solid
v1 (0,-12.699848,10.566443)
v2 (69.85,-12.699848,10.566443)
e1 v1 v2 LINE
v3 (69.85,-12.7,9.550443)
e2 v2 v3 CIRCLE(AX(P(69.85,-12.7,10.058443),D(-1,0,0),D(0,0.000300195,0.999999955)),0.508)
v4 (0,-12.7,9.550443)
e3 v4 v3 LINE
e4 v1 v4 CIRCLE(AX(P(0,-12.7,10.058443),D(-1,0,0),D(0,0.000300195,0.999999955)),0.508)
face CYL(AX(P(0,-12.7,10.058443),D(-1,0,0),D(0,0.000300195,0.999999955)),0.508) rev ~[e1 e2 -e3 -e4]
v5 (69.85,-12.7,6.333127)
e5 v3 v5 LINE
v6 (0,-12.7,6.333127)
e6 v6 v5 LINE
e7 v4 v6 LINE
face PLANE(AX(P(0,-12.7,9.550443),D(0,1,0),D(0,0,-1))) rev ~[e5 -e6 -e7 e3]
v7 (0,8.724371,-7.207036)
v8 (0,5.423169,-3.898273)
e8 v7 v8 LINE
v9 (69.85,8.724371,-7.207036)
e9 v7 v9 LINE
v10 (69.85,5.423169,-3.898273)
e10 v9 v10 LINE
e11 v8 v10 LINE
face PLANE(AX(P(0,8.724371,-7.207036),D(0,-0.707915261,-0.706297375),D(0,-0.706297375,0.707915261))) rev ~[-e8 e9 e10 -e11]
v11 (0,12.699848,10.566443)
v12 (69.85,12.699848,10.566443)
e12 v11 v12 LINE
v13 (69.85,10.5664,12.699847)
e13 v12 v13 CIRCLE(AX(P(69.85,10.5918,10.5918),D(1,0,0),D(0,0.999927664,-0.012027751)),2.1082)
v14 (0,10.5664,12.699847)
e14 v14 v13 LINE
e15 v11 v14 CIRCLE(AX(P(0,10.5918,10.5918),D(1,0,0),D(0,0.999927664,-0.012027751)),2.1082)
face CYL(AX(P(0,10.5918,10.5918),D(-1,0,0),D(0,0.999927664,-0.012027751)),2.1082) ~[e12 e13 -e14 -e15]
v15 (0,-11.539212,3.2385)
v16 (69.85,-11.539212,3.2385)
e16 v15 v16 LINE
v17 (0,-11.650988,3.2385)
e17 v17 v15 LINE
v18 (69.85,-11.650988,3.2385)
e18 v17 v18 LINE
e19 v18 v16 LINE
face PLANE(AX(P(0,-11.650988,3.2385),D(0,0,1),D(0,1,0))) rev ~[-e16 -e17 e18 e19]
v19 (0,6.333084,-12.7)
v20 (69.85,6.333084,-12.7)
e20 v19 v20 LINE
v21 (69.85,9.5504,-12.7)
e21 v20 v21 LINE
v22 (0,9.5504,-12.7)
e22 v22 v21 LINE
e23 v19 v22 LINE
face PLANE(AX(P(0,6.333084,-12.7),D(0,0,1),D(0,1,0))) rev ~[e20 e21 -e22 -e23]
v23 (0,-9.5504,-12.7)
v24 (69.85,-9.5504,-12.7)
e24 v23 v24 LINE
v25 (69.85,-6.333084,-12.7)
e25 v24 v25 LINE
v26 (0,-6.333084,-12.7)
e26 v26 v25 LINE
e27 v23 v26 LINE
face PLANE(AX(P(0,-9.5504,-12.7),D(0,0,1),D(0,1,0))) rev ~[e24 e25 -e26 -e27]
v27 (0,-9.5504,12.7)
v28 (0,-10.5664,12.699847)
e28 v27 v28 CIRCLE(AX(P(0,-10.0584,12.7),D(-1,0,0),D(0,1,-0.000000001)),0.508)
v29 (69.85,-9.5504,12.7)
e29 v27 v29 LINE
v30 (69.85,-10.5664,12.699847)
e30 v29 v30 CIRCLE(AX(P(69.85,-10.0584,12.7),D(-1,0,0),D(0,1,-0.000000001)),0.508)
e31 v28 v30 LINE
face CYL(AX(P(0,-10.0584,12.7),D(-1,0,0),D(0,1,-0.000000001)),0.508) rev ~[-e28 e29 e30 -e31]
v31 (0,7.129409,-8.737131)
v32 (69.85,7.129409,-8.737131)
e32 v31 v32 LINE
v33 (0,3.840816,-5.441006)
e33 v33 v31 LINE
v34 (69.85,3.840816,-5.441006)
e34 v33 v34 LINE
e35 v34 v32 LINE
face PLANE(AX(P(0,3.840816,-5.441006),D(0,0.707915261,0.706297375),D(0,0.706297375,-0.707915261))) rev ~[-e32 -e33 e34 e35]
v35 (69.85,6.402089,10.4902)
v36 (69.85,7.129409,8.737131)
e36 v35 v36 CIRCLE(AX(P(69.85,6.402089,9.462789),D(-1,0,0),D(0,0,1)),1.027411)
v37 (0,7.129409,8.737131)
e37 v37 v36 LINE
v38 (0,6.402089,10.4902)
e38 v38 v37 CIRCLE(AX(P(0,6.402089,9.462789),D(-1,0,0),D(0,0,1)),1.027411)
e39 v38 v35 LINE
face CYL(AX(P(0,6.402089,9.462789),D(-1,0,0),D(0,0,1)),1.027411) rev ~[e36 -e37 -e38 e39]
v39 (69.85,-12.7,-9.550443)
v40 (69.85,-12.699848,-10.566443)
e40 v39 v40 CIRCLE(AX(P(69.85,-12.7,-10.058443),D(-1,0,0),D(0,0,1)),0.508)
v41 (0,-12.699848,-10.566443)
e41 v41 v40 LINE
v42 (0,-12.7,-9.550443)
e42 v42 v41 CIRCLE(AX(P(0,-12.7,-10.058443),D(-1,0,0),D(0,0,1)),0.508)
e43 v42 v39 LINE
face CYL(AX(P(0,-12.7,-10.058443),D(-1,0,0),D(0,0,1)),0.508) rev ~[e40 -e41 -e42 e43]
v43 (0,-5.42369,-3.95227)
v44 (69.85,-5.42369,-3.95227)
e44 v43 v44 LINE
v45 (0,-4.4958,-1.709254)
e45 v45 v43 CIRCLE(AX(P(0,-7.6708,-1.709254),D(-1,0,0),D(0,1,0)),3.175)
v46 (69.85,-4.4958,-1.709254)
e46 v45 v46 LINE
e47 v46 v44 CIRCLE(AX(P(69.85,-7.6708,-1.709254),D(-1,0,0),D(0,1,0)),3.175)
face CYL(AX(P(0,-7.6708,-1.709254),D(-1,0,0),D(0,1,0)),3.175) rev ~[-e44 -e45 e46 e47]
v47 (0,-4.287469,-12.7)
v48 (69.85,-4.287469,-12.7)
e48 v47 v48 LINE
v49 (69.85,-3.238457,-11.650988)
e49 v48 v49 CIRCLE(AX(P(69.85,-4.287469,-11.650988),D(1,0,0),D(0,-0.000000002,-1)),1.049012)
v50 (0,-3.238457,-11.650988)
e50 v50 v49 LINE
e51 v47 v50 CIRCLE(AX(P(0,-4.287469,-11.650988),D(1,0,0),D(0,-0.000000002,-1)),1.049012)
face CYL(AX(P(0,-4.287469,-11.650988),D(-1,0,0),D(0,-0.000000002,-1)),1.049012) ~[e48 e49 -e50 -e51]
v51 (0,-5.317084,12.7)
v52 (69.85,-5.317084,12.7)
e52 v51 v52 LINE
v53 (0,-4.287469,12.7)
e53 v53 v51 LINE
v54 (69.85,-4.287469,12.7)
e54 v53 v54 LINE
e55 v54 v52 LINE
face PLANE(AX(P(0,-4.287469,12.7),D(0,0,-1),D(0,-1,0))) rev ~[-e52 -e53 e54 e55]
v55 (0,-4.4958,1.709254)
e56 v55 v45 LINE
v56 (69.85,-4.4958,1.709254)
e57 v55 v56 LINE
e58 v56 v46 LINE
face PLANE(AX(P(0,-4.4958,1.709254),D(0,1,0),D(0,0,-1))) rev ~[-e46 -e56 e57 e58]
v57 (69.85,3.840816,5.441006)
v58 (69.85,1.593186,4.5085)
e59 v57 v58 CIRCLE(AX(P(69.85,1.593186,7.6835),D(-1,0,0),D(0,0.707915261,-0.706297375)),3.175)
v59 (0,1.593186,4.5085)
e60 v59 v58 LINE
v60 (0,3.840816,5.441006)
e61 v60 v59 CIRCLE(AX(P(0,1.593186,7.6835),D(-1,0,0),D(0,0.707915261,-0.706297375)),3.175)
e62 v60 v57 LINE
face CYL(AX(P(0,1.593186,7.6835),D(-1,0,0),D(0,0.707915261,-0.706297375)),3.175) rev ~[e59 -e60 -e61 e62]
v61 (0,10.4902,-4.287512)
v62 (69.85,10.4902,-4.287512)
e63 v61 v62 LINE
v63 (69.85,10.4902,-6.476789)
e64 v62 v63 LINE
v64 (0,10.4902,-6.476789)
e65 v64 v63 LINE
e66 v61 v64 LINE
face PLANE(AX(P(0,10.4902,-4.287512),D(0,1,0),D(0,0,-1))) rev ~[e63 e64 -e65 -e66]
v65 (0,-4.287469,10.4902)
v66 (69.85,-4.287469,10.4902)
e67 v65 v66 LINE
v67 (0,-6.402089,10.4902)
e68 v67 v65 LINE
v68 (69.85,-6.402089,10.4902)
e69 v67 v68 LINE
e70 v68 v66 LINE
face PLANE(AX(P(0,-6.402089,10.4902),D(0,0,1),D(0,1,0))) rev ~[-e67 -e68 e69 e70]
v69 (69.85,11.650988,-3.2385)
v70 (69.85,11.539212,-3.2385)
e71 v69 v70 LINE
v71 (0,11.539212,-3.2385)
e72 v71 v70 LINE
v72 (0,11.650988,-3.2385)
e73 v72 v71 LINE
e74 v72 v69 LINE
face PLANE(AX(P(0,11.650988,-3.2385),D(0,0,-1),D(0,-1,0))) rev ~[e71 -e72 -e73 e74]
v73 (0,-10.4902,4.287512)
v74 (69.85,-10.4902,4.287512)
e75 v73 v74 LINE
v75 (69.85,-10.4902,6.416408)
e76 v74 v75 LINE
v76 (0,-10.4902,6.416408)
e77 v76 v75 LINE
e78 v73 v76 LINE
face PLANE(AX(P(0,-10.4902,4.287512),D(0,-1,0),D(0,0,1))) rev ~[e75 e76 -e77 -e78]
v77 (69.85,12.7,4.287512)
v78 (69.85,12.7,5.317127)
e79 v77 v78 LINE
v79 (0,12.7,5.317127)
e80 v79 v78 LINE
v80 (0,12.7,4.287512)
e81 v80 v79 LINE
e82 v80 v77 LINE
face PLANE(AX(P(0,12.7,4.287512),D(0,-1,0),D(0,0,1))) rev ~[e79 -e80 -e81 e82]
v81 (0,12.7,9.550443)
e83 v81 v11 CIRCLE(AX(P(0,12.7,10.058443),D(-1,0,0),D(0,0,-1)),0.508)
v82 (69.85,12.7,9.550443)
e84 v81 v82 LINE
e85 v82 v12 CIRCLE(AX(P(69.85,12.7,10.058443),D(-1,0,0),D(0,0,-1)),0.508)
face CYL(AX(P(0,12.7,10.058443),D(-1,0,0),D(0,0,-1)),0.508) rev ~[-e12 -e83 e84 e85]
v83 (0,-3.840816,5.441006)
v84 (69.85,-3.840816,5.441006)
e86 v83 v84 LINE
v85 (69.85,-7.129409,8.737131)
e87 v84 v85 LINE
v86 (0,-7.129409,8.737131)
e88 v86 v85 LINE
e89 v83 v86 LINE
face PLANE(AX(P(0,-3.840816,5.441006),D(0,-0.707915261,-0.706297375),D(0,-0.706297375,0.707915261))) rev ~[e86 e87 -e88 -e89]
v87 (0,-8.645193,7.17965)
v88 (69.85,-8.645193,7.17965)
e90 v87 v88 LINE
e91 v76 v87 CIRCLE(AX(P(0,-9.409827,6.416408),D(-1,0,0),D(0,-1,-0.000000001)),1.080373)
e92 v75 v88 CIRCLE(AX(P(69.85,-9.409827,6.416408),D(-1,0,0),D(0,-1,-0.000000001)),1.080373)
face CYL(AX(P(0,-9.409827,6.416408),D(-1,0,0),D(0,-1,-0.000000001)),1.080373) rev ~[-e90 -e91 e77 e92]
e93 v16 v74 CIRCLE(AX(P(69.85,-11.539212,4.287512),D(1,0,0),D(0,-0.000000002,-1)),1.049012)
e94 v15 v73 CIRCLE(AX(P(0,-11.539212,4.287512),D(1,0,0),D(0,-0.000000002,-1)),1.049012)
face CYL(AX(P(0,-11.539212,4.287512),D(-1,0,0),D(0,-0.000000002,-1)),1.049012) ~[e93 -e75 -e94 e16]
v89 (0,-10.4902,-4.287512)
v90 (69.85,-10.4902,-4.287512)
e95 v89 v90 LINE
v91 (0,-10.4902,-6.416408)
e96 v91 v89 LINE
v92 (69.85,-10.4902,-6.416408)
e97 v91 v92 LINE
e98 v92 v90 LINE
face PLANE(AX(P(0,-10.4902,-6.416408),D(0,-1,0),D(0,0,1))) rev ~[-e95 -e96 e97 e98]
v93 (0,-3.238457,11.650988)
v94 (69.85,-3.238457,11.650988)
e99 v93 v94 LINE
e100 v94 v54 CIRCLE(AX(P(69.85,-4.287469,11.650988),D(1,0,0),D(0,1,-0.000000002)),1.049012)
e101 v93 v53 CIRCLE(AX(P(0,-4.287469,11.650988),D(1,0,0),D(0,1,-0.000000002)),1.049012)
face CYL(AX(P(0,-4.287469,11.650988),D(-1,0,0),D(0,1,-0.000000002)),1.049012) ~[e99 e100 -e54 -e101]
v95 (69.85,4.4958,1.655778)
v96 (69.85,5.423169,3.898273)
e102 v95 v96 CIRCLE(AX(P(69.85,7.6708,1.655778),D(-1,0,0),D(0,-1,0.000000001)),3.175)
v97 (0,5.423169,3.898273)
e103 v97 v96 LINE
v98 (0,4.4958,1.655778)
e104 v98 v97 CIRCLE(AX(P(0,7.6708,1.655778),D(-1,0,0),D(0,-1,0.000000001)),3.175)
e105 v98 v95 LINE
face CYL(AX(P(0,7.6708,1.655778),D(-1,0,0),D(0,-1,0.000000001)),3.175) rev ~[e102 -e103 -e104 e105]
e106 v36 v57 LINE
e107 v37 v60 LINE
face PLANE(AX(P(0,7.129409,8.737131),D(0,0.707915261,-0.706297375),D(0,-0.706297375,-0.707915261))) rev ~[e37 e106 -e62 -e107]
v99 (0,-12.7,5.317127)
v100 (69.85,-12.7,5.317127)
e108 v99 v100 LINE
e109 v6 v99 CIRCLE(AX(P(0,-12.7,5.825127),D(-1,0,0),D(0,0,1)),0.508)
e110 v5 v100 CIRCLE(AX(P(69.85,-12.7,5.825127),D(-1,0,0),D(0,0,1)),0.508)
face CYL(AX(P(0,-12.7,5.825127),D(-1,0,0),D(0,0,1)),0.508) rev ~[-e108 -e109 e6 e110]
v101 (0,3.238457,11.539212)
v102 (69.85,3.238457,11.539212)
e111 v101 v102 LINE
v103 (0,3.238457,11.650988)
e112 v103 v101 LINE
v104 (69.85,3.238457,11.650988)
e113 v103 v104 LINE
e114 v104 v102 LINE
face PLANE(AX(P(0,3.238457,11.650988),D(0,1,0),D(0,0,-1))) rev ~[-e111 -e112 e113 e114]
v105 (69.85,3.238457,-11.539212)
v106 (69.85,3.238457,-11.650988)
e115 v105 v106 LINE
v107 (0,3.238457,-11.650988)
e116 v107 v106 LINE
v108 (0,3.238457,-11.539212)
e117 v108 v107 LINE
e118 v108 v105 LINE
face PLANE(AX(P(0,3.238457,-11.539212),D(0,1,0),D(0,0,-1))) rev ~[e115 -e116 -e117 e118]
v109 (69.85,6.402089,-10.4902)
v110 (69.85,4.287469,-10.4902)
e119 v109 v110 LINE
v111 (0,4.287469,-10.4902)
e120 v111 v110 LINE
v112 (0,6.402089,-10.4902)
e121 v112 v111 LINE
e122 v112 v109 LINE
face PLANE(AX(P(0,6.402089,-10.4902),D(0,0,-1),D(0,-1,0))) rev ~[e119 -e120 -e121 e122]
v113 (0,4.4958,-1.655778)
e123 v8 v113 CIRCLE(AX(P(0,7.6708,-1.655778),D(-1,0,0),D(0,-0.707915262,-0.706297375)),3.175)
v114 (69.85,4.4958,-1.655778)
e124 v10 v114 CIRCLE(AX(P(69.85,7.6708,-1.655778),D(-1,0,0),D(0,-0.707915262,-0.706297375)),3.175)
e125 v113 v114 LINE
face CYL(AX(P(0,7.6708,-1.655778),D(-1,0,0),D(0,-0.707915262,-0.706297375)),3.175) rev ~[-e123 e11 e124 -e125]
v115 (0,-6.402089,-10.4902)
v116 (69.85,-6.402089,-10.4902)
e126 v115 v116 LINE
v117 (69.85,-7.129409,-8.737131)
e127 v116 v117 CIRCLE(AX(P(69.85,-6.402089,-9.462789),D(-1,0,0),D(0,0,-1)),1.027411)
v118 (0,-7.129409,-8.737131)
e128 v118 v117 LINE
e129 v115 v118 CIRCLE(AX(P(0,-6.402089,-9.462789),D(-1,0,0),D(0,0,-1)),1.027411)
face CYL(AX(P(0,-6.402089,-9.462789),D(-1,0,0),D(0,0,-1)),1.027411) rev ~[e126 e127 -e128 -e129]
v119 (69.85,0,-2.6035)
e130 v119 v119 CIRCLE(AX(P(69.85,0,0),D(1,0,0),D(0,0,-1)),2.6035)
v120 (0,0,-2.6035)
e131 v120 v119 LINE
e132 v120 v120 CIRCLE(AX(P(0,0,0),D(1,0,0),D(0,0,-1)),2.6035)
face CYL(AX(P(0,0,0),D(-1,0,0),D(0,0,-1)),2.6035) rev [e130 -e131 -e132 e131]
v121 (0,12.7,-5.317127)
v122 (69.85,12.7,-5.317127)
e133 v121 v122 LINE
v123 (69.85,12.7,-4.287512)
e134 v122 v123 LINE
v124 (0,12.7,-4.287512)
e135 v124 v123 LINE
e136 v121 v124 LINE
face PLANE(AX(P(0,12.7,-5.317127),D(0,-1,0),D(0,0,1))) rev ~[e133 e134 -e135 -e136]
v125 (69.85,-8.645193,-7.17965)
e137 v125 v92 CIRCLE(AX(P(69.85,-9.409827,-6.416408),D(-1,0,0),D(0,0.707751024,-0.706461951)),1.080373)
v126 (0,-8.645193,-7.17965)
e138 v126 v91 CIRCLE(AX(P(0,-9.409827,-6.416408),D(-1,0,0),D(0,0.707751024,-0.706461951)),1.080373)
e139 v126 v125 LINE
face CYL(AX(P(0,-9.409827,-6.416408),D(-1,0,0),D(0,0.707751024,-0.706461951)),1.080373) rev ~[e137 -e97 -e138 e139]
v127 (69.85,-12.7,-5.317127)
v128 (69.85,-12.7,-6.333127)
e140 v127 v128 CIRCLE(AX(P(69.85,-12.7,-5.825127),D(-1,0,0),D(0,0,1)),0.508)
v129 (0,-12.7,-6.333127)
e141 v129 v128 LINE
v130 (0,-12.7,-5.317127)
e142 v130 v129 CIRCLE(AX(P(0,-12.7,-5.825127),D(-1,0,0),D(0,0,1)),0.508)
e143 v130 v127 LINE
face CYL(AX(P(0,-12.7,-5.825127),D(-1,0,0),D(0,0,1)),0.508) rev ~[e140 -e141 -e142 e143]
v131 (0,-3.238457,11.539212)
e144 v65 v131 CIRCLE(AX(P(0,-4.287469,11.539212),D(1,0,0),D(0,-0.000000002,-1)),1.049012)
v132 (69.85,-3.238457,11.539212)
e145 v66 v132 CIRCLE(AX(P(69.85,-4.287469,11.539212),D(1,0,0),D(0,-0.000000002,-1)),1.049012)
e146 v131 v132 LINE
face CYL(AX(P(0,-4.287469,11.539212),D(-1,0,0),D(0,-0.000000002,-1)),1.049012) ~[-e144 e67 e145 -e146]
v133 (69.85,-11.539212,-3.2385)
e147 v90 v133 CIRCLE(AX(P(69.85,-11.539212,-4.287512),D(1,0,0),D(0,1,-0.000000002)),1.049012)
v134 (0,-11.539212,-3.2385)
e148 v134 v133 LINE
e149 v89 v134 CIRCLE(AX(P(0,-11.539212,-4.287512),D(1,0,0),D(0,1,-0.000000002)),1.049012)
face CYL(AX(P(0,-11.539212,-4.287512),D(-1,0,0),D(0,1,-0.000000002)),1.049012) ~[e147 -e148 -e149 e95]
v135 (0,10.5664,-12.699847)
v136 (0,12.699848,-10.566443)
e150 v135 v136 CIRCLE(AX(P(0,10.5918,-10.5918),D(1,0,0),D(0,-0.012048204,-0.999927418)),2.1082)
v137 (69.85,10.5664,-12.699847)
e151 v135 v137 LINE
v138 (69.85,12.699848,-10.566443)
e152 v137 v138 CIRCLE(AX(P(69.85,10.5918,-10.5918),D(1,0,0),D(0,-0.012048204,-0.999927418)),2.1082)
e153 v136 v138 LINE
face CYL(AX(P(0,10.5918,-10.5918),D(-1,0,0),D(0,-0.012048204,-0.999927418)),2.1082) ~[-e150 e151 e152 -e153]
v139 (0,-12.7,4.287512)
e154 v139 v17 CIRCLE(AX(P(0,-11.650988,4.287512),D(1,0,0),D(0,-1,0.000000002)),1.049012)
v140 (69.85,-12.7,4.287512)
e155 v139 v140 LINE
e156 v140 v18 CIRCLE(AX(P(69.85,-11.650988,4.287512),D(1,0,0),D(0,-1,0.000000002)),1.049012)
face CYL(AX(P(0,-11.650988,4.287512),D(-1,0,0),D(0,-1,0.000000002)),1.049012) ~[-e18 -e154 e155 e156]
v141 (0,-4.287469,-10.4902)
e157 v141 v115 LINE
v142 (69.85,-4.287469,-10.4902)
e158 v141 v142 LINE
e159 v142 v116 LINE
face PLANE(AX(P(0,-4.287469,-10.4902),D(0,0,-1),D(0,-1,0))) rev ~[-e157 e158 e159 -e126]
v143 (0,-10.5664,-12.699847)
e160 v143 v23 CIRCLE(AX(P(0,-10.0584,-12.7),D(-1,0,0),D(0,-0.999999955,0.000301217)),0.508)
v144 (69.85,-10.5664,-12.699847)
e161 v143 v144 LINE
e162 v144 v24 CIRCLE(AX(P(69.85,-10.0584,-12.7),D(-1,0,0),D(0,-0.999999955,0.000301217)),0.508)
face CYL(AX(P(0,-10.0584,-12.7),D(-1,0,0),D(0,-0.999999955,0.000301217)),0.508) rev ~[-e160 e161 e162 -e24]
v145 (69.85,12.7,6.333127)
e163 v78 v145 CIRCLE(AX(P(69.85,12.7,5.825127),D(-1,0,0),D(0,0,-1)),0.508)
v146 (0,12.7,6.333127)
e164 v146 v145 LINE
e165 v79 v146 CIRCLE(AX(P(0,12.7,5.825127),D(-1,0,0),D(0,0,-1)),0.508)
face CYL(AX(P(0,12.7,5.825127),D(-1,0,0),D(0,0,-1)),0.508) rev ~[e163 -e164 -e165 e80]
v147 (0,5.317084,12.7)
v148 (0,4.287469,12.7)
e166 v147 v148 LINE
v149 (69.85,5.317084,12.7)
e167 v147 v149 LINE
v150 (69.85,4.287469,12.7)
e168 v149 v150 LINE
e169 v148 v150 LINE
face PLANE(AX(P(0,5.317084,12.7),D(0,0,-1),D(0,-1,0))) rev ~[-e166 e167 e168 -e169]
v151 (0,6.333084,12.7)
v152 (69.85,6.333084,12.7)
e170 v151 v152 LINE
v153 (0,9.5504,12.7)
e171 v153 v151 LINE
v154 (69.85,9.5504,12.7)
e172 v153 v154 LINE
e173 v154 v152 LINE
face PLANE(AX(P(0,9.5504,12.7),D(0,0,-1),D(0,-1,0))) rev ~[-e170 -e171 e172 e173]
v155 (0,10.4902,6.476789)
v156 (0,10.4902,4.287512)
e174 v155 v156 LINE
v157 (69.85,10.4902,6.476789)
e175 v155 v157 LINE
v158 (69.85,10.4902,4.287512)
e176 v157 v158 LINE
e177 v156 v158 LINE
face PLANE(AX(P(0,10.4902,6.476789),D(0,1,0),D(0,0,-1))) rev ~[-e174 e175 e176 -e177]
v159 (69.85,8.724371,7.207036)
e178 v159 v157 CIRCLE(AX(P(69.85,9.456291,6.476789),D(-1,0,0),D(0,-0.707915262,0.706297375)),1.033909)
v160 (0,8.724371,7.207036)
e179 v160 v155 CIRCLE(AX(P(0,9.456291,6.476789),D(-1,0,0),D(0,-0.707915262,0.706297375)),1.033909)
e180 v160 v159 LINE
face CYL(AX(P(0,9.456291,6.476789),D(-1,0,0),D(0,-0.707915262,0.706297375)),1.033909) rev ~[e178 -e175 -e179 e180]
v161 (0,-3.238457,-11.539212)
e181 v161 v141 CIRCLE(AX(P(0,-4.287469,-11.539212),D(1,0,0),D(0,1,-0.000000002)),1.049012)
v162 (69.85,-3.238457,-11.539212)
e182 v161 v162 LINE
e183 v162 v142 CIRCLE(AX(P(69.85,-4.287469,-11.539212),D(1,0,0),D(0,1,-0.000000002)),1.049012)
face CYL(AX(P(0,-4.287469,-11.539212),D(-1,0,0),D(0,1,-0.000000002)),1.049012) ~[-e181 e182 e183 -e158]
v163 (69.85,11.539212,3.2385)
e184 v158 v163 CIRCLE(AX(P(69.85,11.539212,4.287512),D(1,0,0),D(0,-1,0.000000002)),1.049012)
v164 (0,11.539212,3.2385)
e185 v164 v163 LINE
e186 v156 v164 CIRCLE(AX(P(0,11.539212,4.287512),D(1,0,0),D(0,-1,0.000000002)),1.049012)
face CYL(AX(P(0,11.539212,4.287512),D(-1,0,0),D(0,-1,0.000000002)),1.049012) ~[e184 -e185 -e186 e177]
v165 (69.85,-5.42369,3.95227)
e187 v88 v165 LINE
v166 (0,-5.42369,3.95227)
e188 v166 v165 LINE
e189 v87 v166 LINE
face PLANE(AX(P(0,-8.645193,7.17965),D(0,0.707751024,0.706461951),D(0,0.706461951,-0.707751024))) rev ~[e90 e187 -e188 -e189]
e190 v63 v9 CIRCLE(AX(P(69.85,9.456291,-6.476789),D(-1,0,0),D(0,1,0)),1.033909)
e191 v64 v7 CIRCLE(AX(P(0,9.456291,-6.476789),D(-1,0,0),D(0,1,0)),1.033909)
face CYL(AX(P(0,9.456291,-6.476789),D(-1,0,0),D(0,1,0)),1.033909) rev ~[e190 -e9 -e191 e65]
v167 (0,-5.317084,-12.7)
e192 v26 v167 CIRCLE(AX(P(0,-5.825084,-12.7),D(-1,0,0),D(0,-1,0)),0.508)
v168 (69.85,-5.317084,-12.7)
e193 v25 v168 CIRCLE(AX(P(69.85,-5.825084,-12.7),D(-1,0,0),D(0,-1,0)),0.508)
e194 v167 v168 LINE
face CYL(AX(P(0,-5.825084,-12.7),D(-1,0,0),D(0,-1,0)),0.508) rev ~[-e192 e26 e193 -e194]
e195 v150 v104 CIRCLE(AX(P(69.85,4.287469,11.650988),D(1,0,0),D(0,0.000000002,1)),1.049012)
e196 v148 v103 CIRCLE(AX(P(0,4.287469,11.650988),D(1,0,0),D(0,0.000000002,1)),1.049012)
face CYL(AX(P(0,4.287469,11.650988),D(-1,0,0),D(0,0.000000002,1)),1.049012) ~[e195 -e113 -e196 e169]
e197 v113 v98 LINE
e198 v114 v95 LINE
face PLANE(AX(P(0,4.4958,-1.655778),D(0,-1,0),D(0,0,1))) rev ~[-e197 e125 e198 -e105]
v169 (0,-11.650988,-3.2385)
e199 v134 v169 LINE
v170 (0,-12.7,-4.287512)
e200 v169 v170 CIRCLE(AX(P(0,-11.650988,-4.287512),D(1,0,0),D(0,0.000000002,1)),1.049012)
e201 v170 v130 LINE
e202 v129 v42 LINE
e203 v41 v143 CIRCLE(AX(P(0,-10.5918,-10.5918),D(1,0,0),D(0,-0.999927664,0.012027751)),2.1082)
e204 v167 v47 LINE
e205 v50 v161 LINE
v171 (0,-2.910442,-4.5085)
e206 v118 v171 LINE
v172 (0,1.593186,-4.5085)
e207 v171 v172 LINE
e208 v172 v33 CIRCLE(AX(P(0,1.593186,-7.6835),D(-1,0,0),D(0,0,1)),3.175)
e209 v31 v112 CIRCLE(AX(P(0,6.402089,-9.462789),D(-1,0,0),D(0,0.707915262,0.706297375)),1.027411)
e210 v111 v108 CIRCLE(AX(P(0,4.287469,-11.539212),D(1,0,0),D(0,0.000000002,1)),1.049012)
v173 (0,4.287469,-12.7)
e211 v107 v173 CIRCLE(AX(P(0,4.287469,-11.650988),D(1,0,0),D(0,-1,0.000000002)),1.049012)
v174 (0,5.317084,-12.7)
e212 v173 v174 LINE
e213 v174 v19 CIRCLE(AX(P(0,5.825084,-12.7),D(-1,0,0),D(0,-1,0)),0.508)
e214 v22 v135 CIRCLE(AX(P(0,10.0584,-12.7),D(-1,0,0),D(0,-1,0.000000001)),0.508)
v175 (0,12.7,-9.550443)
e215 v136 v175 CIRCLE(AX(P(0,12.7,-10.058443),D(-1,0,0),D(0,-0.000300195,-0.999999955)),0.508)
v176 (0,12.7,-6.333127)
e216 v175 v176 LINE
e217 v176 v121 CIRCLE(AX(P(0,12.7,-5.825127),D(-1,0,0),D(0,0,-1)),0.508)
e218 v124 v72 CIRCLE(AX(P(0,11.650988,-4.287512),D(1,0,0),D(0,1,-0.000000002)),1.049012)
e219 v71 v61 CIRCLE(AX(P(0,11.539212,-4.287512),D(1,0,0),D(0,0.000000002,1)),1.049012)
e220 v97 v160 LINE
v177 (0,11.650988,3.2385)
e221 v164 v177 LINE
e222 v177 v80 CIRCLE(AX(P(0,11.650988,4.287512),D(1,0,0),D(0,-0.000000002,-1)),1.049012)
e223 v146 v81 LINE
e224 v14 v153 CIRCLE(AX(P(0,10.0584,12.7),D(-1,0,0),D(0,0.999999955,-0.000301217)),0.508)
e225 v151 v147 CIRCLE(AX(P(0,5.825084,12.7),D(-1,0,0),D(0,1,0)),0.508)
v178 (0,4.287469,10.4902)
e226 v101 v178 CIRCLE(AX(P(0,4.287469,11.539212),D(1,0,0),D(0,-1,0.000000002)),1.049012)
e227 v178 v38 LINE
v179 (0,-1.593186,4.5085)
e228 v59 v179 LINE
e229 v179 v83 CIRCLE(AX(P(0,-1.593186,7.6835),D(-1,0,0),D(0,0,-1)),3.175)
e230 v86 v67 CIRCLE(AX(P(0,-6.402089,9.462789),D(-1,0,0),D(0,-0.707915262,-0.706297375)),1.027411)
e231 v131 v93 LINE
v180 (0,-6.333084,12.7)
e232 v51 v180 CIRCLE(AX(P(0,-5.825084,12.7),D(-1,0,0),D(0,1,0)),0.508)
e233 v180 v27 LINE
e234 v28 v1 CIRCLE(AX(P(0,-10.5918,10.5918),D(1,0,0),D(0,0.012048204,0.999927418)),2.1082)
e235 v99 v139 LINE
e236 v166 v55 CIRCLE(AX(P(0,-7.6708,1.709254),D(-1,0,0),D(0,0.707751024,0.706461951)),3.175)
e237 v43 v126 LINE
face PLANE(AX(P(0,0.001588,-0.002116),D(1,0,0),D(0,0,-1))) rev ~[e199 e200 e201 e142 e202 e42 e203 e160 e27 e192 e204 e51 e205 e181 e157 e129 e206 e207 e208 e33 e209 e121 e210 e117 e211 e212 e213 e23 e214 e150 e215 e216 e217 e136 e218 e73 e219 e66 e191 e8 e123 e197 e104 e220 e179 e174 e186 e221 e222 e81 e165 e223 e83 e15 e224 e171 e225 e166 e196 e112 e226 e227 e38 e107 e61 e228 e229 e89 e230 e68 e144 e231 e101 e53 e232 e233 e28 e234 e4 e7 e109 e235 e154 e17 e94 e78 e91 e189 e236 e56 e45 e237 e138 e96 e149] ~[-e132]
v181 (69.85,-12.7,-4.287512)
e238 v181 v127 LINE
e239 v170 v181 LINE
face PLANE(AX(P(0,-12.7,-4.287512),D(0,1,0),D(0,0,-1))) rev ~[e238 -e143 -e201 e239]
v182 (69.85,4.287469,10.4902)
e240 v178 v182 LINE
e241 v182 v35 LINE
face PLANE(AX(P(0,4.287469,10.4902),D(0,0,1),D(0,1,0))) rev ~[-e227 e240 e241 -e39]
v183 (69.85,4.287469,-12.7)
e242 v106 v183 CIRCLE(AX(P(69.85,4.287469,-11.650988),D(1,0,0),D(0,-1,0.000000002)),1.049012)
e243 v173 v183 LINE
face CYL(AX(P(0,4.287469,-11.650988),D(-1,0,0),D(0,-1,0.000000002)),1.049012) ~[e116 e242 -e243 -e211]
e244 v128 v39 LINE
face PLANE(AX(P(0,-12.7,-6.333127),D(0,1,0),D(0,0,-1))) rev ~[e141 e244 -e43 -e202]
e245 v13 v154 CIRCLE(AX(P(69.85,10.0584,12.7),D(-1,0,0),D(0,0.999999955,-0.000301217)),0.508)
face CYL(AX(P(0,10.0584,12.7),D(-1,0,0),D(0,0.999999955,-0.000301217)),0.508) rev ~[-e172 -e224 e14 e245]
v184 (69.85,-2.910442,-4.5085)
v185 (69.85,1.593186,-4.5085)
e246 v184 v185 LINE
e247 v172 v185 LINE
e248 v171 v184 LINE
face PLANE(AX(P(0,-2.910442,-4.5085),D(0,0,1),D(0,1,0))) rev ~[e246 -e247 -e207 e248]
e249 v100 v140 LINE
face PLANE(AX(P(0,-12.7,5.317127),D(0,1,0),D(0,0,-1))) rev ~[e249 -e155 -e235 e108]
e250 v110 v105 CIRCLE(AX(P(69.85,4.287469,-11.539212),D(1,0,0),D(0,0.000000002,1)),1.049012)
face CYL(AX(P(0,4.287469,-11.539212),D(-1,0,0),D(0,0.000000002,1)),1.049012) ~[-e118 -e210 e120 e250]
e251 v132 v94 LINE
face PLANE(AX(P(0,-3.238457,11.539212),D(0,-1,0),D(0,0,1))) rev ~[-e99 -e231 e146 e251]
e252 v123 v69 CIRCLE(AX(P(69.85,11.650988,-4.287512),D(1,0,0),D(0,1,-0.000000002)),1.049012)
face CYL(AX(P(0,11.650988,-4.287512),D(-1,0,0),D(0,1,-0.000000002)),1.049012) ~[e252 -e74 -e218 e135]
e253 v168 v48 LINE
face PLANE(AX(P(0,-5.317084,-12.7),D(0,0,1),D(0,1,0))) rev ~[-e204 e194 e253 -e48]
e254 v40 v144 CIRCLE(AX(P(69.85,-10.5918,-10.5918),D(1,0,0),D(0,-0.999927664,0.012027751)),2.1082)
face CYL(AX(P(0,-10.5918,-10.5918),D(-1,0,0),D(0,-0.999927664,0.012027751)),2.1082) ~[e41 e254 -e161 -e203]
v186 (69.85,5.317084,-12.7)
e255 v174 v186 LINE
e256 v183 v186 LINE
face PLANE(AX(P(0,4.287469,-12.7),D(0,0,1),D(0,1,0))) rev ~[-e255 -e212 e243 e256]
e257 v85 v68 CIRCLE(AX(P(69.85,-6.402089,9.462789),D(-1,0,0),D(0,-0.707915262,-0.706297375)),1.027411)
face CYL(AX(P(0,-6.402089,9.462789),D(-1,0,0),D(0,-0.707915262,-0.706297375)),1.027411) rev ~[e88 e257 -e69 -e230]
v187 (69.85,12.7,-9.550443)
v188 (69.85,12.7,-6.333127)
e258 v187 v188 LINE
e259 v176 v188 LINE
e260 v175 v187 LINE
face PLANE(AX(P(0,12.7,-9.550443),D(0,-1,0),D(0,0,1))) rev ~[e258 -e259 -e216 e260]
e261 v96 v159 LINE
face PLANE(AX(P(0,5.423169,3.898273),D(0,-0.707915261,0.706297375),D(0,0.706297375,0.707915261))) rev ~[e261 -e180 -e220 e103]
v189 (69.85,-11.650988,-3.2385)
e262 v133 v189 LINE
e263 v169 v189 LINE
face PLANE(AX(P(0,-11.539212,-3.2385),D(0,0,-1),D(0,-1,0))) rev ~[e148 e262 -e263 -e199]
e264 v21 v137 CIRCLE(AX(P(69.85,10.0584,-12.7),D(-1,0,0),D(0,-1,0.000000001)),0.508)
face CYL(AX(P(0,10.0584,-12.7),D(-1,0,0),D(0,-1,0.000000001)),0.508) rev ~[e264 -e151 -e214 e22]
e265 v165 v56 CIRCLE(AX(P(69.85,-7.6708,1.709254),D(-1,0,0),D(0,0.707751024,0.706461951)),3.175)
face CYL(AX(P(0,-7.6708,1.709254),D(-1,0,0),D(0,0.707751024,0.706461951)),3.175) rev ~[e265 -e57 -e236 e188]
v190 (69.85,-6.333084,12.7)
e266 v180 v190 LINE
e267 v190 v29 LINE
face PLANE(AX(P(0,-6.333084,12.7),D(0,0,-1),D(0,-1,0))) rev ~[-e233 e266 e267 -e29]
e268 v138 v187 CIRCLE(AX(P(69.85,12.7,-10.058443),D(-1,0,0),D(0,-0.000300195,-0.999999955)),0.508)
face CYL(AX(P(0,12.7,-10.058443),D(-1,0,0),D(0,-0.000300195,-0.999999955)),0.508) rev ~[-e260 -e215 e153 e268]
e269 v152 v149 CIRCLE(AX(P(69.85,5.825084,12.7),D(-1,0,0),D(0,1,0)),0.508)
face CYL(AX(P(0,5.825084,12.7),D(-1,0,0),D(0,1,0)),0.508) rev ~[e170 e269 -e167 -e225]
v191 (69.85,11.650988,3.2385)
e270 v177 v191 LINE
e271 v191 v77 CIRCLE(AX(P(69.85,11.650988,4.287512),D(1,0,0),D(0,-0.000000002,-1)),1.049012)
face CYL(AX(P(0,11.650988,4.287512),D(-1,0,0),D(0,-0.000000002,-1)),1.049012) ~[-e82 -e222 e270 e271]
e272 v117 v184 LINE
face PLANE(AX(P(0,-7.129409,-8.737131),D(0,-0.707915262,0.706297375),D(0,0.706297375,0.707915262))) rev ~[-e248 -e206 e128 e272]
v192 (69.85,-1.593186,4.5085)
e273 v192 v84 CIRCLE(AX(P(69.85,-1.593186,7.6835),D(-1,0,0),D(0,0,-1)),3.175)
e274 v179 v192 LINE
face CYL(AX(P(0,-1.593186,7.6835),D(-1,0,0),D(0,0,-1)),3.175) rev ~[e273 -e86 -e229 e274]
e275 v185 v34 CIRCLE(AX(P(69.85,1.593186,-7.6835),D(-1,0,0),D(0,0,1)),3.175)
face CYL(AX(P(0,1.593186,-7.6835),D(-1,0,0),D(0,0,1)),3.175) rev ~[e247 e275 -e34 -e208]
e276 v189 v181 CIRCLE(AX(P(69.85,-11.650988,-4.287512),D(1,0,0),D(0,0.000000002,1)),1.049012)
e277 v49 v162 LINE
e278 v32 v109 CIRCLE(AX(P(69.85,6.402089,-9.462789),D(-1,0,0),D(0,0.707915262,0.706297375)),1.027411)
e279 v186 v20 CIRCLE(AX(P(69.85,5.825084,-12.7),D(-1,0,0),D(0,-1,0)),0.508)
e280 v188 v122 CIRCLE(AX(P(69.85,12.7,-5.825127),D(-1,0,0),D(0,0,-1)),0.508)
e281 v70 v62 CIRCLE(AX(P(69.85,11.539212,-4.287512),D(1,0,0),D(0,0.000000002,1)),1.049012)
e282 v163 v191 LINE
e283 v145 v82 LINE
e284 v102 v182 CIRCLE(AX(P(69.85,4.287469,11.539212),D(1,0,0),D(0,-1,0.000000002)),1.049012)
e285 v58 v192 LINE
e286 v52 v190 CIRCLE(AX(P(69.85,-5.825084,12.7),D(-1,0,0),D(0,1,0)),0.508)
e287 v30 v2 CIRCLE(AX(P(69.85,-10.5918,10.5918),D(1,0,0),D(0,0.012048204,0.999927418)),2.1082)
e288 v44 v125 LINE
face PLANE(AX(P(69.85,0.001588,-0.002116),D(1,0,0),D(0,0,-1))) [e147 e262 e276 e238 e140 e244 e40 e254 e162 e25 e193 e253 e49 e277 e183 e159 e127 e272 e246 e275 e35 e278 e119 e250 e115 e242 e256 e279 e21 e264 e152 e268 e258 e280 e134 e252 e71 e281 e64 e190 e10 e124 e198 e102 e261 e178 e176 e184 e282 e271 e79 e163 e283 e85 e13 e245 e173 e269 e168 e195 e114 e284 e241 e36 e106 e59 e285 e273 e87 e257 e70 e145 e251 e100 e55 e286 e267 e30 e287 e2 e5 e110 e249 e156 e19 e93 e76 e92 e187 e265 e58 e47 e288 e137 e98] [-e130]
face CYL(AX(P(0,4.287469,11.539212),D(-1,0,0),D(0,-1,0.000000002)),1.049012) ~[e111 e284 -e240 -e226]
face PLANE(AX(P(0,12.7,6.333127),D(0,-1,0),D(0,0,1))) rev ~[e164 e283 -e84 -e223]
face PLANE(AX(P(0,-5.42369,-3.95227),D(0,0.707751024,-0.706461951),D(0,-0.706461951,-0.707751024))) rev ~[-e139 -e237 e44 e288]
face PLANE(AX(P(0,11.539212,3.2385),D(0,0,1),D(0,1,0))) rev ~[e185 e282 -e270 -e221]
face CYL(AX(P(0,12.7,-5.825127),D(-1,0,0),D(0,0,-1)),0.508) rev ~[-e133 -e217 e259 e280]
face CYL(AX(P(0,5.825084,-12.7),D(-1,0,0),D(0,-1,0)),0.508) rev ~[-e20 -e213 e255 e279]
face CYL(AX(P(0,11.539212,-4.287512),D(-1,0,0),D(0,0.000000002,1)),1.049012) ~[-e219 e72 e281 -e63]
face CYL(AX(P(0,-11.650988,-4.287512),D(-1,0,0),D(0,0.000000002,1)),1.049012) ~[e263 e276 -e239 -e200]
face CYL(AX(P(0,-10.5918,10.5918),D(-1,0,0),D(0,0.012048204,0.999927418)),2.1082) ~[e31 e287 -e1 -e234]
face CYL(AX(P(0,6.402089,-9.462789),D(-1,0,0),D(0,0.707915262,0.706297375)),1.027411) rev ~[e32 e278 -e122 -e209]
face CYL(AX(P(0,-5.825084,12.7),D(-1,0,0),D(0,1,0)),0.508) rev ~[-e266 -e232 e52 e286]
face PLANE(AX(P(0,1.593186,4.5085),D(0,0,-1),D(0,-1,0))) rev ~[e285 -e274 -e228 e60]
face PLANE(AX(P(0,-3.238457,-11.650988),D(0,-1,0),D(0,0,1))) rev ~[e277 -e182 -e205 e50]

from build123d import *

# Parameters (mm, degrees)
SKETCH1_R           = 2.6035
BOSS_EXTRUDE1_DEPTH = 69.85


with BuildPart() as part:
    # Sketch1 → Boss-Extrude1 (new body)
    with BuildSketch(Plane(origin=(0, 0, 0), x_dir=(0, 0, -1), z_dir=(1, 0, 0))):
        with BuildLine():
            Line((6.333126718, -12.7), (9.550443118, -12.7))
            ThreePointArc((9.550443118, -12.7), (10.058366869, -12.192000006), (10.566443095, -12.699847501))
            ThreePointArc((10.566443095, -12.699847501), (12.082537762, -12.08250727), (12.699846982, -10.566399977))
            ThreePointArc((12.699846982, -10.566399977), (12.192000006, -10.058323491), (12.7, -9.5504))
            Line((12.7, -9.5504), (12.7, -6.3330836))
            ThreePointArc((12.7, -6.3330836), (12.192, -5.8250836), (12.7, -5.3170836))
            Line((12.7, -5.3170836), (12.7, -4.287469289))
            ThreePointArc((12.7, -4.287469289), (12.39275138, -3.545705502), (11.650987593, -3.238456882))
            Line((11.650987593, -3.238456882), (11.539212407, -3.238456882))
            ThreePointArc((11.539212407, -3.238456882), (10.79744862, -3.545705502), (10.4902, -4.287469289))
            Line((10.4902, -4.287469289), (10.4902, -6.402089023))
            ThreePointArc((10.4902, -6.402089023), (9.856505071, -7.351067942), (8.737131347, -7.129408934))
            Line((8.737131347, -7.129408934), (4.5085, -2.9104418))
            Line((4.5085, -2.9104418), (4.5085, 1.593185507))
            ThreePointArc((4.5085, 1.593185507), (4.750877967, 2.809883091), (5.441005833, 3.840816462))
            Line((5.441005833, 3.840816462), (8.737131347, 7.129408934))
            ThreePointArc((8.737131347, 7.129408934), (9.856505071, 7.351067942), (10.4902, 6.402089023))
            Line((10.4902, 6.402089023), (10.4902, 4.287469289))
            ThreePointArc((10.4902, 4.287469289), (10.79744862, 3.545705502), (11.539212407, 3.238456882))
            Line((11.539212407, 3.238456882), (11.650987593, 3.238456882))
            ThreePointArc((11.650987593, 3.238456882), (12.39275138, 3.545705502), (12.7, 4.287469289))
            Line((12.7, 4.287469289), (12.7, 5.3170836))
            ThreePointArc((12.7, 5.3170836), (12.192, 5.8250836), (12.7, 6.3330836))
            Line((12.7, 6.3330836), (12.7, 9.5504))
            ThreePointArc((12.7, 9.5504), (12.192000006, 10.058323491), (12.699846982, 10.566399977))
            ThreePointArc((12.699846982, 10.566399977), (12.082537762, 12.08250727), (10.566443095, 12.699847501))
            ThreePointArc((10.566443095, 12.699847501), (10.058366869, 12.192000006), (9.550443118, 12.7))
            Line((9.550443118, 12.7), (6.333126718, 12.7))
            ThreePointArc((6.333126718, 12.7), (5.825126718, 12.192), (5.317126718, 12.7))
            Line((5.317126718, 12.7), (4.287512407, 12.7))
            ThreePointArc((4.287512407, 12.7), (3.54574862, 12.39275138), (3.2385, 11.650987593))
            Line((3.2385, 11.650987593), (3.2385, 11.539212407))
            ThreePointArc((3.2385, 11.539212407), (3.54574862, 10.79744862), (4.287512407, 10.4902))
            Line((4.287512407, 10.4902), (6.476788598, 10.4902))
            ThreePointArc((6.476788598, 10.4902), (7.432222385, 9.85140422), (7.207036008, 8.724370562))
            Line((7.207036008, 8.724370562), (3.898272566, 5.423169045))
            ThreePointArc((3.898272566, 5.423169045), (2.869120213, 4.736787962), (1.655778399, 4.4958))
            Line((1.655778399, 4.4958), (-1.655778399, 4.4958))
            ThreePointArc((-1.655778399, 4.4958), (-2.869120213, 4.736787962), (-3.898272566, 5.423169045))
            Line((-3.898272566, 5.423169045), (-7.207036008, 8.724370562))
            ThreePointArc((-7.207036008, 8.724370562), (-7.432222385, 9.85140422), (-6.476788598, 10.4902))
            Line((-6.476788598, 10.4902), (-4.287512407, 10.4902))
            ThreePointArc((-4.287512407, 10.4902), (-3.54574862, 10.79744862), (-3.2385, 11.539212407))
            Line((-3.2385, 11.539212407), (-3.2385, 11.650987593))
            ThreePointArc((-3.2385, 11.650987593), (-3.54574862, 12.39275138), (-4.287512407, 12.7))
            Line((-4.287512407, 12.7), (-5.317126718, 12.7))
            ThreePointArc((-5.317126718, 12.7), (-5.825126718, 12.192), (-6.333126718, 12.7))
            Line((-6.333126718, 12.7), (-9.550443118, 12.7))
            ThreePointArc((-9.550443118, 12.7), (-10.058366869, 12.192000006), (-10.566443095, 12.699847501))
            ThreePointArc((-10.566443095, 12.699847501), (-12.082537762, 12.08250727), (-12.699846982, 10.566399977))
            ThreePointArc((-12.699846982, 10.566399977), (-12.192000006, 10.058323491), (-12.7, 9.5504))
            Line((-12.7, 9.5504), (-12.7, 6.3330836))
            ThreePointArc((-12.7, 6.3330836), (-12.192, 5.8250836), (-12.7, 5.3170836))
            Line((-12.7, 5.3170836), (-12.7, 4.287469289))
            ThreePointArc((-12.7, 4.287469289), (-12.39275138, 3.545705502), (-11.650987593, 3.238456882))
            Line((-11.650987593, 3.238456882), (-11.539212407, 3.238456882))
            ThreePointArc((-11.539212407, 3.238456882), (-10.79744862, 3.545705502), (-10.4902, 4.287469289))
            Line((-10.4902, 4.287469289), (-10.4902, 6.402089023))
            ThreePointArc((-10.4902, 6.402089023), (-9.856505071, 7.351067942), (-8.737131347, 7.129408934))
            Line((-8.737131347, 7.129408934), (-5.441005833, 3.840816462))
            ThreePointArc((-5.441005833, 3.840816462), (-4.750877967, 2.809883091), (-4.5085, 1.593185507))
            Line((-4.5085, 1.593185507), (-4.5085, -1.593185507))
            ThreePointArc((-4.5085, -1.593185507), (-4.750877967, -2.809883091), (-5.441005833, -3.840816462))
            Line((-5.441005833, -3.840816462), (-8.737131347, -7.129408934))
            ThreePointArc((-8.737131347, -7.129408934), (-9.856505071, -7.351067942), (-10.4902, -6.402089023))
            Line((-10.4902, -6.402089023), (-10.4902, -4.287469289))
            ThreePointArc((-10.4902, -4.287469289), (-10.79744862, -3.545705502), (-11.539212407, -3.238456882))
            Line((-11.539212407, -3.238456882), (-11.650987593, -3.238456882))
            ThreePointArc((-11.650987593, -3.238456882), (-12.39275138, -3.545705502), (-12.7, -4.287469289))
            Line((-12.7, -4.287469289), (-12.7, -5.3170836))
            ThreePointArc((-12.7, -5.3170836), (-12.192, -5.8250836), (-12.7, -6.3330836))
            Line((-12.7, -6.3330836), (-12.7, -9.5504))
            ThreePointArc((-12.7, -9.5504), (-12.192000006, -10.058323491), (-12.699846982, -10.566399977))
            ThreePointArc((-12.699846982, -10.566399977), (-12.082537762, -12.08250727), (-10.566443095, -12.699847501))
            ThreePointArc((-10.566443095, -12.699847501), (-10.058366869, -12.192000006), (-9.550443118, -12.7))
            Line((-9.550443118, -12.7), (-6.333126718, -12.7))
            ThreePointArc((-6.333126718, -12.7), (-5.825126718, -12.192), (-5.317126718, -12.7))
            Line((-5.317126718, -12.7), (-4.287512407, -12.7))
            ThreePointArc((-4.287512407, -12.7), (-3.54574862, -12.39275138), (-3.2385, -11.650987593))
            Line((-3.2385, -11.650987593), (-3.2385, -11.539212407))
            ThreePointArc((-3.2385, -11.539212407), (-3.54574862, -10.79744862), (-4.287512407, -10.4902))
            Line((-4.287512407, -10.4902), (-6.416408329, -10.4902))
            ThreePointArc((-6.416408329, -10.4902), (-7.41473083, -9.822813117), (-7.179650497, -8.645192506))
            Line((-7.179650497, -8.645192506), (-3.952270251, -5.423690499))
            ThreePointArc((-3.952270251, -5.423690499), (-2.922936451, -4.736929036), (-1.709253557, -4.4958))
            Line((-1.709253557, -4.4958), (1.709253557, -4.4958))
            ThreePointArc((1.709253557, -4.4958), (2.922936451, -4.736929036), (3.952270251, -5.423690499))
            Line((3.952270251, -5.423690499), (7.179650497, -8.645192506))
            ThreePointArc((7.179650497, -8.645192506), (7.41473083, -9.822813117), (6.416408329, -10.4902))
            Line((6.416408329, -10.4902), (4.287512407, -10.4902))
            ThreePointArc((4.287512407, -10.4902), (3.54574862, -10.79744862), (3.2385, -11.539212407))
            Line((3.2385, -11.539212407), (3.2385, -11.650987593))
            ThreePointArc((3.2385, -11.650987593), (3.54574862, -12.39275138), (4.287512407, -12.7))
            Line((4.287512407, -12.7), (5.317126718, -12.7))
            ThreePointArc((5.317126718, -12.7), (5.825126718, -12.192), (6.333126718, -12.7))
        make_face()
        Circle(SKETCH1_R, mode=Mode.SUBTRACT)
    extrude(amount=BOSS_EXTRUDE1_DEPTH)


solid = part.part
